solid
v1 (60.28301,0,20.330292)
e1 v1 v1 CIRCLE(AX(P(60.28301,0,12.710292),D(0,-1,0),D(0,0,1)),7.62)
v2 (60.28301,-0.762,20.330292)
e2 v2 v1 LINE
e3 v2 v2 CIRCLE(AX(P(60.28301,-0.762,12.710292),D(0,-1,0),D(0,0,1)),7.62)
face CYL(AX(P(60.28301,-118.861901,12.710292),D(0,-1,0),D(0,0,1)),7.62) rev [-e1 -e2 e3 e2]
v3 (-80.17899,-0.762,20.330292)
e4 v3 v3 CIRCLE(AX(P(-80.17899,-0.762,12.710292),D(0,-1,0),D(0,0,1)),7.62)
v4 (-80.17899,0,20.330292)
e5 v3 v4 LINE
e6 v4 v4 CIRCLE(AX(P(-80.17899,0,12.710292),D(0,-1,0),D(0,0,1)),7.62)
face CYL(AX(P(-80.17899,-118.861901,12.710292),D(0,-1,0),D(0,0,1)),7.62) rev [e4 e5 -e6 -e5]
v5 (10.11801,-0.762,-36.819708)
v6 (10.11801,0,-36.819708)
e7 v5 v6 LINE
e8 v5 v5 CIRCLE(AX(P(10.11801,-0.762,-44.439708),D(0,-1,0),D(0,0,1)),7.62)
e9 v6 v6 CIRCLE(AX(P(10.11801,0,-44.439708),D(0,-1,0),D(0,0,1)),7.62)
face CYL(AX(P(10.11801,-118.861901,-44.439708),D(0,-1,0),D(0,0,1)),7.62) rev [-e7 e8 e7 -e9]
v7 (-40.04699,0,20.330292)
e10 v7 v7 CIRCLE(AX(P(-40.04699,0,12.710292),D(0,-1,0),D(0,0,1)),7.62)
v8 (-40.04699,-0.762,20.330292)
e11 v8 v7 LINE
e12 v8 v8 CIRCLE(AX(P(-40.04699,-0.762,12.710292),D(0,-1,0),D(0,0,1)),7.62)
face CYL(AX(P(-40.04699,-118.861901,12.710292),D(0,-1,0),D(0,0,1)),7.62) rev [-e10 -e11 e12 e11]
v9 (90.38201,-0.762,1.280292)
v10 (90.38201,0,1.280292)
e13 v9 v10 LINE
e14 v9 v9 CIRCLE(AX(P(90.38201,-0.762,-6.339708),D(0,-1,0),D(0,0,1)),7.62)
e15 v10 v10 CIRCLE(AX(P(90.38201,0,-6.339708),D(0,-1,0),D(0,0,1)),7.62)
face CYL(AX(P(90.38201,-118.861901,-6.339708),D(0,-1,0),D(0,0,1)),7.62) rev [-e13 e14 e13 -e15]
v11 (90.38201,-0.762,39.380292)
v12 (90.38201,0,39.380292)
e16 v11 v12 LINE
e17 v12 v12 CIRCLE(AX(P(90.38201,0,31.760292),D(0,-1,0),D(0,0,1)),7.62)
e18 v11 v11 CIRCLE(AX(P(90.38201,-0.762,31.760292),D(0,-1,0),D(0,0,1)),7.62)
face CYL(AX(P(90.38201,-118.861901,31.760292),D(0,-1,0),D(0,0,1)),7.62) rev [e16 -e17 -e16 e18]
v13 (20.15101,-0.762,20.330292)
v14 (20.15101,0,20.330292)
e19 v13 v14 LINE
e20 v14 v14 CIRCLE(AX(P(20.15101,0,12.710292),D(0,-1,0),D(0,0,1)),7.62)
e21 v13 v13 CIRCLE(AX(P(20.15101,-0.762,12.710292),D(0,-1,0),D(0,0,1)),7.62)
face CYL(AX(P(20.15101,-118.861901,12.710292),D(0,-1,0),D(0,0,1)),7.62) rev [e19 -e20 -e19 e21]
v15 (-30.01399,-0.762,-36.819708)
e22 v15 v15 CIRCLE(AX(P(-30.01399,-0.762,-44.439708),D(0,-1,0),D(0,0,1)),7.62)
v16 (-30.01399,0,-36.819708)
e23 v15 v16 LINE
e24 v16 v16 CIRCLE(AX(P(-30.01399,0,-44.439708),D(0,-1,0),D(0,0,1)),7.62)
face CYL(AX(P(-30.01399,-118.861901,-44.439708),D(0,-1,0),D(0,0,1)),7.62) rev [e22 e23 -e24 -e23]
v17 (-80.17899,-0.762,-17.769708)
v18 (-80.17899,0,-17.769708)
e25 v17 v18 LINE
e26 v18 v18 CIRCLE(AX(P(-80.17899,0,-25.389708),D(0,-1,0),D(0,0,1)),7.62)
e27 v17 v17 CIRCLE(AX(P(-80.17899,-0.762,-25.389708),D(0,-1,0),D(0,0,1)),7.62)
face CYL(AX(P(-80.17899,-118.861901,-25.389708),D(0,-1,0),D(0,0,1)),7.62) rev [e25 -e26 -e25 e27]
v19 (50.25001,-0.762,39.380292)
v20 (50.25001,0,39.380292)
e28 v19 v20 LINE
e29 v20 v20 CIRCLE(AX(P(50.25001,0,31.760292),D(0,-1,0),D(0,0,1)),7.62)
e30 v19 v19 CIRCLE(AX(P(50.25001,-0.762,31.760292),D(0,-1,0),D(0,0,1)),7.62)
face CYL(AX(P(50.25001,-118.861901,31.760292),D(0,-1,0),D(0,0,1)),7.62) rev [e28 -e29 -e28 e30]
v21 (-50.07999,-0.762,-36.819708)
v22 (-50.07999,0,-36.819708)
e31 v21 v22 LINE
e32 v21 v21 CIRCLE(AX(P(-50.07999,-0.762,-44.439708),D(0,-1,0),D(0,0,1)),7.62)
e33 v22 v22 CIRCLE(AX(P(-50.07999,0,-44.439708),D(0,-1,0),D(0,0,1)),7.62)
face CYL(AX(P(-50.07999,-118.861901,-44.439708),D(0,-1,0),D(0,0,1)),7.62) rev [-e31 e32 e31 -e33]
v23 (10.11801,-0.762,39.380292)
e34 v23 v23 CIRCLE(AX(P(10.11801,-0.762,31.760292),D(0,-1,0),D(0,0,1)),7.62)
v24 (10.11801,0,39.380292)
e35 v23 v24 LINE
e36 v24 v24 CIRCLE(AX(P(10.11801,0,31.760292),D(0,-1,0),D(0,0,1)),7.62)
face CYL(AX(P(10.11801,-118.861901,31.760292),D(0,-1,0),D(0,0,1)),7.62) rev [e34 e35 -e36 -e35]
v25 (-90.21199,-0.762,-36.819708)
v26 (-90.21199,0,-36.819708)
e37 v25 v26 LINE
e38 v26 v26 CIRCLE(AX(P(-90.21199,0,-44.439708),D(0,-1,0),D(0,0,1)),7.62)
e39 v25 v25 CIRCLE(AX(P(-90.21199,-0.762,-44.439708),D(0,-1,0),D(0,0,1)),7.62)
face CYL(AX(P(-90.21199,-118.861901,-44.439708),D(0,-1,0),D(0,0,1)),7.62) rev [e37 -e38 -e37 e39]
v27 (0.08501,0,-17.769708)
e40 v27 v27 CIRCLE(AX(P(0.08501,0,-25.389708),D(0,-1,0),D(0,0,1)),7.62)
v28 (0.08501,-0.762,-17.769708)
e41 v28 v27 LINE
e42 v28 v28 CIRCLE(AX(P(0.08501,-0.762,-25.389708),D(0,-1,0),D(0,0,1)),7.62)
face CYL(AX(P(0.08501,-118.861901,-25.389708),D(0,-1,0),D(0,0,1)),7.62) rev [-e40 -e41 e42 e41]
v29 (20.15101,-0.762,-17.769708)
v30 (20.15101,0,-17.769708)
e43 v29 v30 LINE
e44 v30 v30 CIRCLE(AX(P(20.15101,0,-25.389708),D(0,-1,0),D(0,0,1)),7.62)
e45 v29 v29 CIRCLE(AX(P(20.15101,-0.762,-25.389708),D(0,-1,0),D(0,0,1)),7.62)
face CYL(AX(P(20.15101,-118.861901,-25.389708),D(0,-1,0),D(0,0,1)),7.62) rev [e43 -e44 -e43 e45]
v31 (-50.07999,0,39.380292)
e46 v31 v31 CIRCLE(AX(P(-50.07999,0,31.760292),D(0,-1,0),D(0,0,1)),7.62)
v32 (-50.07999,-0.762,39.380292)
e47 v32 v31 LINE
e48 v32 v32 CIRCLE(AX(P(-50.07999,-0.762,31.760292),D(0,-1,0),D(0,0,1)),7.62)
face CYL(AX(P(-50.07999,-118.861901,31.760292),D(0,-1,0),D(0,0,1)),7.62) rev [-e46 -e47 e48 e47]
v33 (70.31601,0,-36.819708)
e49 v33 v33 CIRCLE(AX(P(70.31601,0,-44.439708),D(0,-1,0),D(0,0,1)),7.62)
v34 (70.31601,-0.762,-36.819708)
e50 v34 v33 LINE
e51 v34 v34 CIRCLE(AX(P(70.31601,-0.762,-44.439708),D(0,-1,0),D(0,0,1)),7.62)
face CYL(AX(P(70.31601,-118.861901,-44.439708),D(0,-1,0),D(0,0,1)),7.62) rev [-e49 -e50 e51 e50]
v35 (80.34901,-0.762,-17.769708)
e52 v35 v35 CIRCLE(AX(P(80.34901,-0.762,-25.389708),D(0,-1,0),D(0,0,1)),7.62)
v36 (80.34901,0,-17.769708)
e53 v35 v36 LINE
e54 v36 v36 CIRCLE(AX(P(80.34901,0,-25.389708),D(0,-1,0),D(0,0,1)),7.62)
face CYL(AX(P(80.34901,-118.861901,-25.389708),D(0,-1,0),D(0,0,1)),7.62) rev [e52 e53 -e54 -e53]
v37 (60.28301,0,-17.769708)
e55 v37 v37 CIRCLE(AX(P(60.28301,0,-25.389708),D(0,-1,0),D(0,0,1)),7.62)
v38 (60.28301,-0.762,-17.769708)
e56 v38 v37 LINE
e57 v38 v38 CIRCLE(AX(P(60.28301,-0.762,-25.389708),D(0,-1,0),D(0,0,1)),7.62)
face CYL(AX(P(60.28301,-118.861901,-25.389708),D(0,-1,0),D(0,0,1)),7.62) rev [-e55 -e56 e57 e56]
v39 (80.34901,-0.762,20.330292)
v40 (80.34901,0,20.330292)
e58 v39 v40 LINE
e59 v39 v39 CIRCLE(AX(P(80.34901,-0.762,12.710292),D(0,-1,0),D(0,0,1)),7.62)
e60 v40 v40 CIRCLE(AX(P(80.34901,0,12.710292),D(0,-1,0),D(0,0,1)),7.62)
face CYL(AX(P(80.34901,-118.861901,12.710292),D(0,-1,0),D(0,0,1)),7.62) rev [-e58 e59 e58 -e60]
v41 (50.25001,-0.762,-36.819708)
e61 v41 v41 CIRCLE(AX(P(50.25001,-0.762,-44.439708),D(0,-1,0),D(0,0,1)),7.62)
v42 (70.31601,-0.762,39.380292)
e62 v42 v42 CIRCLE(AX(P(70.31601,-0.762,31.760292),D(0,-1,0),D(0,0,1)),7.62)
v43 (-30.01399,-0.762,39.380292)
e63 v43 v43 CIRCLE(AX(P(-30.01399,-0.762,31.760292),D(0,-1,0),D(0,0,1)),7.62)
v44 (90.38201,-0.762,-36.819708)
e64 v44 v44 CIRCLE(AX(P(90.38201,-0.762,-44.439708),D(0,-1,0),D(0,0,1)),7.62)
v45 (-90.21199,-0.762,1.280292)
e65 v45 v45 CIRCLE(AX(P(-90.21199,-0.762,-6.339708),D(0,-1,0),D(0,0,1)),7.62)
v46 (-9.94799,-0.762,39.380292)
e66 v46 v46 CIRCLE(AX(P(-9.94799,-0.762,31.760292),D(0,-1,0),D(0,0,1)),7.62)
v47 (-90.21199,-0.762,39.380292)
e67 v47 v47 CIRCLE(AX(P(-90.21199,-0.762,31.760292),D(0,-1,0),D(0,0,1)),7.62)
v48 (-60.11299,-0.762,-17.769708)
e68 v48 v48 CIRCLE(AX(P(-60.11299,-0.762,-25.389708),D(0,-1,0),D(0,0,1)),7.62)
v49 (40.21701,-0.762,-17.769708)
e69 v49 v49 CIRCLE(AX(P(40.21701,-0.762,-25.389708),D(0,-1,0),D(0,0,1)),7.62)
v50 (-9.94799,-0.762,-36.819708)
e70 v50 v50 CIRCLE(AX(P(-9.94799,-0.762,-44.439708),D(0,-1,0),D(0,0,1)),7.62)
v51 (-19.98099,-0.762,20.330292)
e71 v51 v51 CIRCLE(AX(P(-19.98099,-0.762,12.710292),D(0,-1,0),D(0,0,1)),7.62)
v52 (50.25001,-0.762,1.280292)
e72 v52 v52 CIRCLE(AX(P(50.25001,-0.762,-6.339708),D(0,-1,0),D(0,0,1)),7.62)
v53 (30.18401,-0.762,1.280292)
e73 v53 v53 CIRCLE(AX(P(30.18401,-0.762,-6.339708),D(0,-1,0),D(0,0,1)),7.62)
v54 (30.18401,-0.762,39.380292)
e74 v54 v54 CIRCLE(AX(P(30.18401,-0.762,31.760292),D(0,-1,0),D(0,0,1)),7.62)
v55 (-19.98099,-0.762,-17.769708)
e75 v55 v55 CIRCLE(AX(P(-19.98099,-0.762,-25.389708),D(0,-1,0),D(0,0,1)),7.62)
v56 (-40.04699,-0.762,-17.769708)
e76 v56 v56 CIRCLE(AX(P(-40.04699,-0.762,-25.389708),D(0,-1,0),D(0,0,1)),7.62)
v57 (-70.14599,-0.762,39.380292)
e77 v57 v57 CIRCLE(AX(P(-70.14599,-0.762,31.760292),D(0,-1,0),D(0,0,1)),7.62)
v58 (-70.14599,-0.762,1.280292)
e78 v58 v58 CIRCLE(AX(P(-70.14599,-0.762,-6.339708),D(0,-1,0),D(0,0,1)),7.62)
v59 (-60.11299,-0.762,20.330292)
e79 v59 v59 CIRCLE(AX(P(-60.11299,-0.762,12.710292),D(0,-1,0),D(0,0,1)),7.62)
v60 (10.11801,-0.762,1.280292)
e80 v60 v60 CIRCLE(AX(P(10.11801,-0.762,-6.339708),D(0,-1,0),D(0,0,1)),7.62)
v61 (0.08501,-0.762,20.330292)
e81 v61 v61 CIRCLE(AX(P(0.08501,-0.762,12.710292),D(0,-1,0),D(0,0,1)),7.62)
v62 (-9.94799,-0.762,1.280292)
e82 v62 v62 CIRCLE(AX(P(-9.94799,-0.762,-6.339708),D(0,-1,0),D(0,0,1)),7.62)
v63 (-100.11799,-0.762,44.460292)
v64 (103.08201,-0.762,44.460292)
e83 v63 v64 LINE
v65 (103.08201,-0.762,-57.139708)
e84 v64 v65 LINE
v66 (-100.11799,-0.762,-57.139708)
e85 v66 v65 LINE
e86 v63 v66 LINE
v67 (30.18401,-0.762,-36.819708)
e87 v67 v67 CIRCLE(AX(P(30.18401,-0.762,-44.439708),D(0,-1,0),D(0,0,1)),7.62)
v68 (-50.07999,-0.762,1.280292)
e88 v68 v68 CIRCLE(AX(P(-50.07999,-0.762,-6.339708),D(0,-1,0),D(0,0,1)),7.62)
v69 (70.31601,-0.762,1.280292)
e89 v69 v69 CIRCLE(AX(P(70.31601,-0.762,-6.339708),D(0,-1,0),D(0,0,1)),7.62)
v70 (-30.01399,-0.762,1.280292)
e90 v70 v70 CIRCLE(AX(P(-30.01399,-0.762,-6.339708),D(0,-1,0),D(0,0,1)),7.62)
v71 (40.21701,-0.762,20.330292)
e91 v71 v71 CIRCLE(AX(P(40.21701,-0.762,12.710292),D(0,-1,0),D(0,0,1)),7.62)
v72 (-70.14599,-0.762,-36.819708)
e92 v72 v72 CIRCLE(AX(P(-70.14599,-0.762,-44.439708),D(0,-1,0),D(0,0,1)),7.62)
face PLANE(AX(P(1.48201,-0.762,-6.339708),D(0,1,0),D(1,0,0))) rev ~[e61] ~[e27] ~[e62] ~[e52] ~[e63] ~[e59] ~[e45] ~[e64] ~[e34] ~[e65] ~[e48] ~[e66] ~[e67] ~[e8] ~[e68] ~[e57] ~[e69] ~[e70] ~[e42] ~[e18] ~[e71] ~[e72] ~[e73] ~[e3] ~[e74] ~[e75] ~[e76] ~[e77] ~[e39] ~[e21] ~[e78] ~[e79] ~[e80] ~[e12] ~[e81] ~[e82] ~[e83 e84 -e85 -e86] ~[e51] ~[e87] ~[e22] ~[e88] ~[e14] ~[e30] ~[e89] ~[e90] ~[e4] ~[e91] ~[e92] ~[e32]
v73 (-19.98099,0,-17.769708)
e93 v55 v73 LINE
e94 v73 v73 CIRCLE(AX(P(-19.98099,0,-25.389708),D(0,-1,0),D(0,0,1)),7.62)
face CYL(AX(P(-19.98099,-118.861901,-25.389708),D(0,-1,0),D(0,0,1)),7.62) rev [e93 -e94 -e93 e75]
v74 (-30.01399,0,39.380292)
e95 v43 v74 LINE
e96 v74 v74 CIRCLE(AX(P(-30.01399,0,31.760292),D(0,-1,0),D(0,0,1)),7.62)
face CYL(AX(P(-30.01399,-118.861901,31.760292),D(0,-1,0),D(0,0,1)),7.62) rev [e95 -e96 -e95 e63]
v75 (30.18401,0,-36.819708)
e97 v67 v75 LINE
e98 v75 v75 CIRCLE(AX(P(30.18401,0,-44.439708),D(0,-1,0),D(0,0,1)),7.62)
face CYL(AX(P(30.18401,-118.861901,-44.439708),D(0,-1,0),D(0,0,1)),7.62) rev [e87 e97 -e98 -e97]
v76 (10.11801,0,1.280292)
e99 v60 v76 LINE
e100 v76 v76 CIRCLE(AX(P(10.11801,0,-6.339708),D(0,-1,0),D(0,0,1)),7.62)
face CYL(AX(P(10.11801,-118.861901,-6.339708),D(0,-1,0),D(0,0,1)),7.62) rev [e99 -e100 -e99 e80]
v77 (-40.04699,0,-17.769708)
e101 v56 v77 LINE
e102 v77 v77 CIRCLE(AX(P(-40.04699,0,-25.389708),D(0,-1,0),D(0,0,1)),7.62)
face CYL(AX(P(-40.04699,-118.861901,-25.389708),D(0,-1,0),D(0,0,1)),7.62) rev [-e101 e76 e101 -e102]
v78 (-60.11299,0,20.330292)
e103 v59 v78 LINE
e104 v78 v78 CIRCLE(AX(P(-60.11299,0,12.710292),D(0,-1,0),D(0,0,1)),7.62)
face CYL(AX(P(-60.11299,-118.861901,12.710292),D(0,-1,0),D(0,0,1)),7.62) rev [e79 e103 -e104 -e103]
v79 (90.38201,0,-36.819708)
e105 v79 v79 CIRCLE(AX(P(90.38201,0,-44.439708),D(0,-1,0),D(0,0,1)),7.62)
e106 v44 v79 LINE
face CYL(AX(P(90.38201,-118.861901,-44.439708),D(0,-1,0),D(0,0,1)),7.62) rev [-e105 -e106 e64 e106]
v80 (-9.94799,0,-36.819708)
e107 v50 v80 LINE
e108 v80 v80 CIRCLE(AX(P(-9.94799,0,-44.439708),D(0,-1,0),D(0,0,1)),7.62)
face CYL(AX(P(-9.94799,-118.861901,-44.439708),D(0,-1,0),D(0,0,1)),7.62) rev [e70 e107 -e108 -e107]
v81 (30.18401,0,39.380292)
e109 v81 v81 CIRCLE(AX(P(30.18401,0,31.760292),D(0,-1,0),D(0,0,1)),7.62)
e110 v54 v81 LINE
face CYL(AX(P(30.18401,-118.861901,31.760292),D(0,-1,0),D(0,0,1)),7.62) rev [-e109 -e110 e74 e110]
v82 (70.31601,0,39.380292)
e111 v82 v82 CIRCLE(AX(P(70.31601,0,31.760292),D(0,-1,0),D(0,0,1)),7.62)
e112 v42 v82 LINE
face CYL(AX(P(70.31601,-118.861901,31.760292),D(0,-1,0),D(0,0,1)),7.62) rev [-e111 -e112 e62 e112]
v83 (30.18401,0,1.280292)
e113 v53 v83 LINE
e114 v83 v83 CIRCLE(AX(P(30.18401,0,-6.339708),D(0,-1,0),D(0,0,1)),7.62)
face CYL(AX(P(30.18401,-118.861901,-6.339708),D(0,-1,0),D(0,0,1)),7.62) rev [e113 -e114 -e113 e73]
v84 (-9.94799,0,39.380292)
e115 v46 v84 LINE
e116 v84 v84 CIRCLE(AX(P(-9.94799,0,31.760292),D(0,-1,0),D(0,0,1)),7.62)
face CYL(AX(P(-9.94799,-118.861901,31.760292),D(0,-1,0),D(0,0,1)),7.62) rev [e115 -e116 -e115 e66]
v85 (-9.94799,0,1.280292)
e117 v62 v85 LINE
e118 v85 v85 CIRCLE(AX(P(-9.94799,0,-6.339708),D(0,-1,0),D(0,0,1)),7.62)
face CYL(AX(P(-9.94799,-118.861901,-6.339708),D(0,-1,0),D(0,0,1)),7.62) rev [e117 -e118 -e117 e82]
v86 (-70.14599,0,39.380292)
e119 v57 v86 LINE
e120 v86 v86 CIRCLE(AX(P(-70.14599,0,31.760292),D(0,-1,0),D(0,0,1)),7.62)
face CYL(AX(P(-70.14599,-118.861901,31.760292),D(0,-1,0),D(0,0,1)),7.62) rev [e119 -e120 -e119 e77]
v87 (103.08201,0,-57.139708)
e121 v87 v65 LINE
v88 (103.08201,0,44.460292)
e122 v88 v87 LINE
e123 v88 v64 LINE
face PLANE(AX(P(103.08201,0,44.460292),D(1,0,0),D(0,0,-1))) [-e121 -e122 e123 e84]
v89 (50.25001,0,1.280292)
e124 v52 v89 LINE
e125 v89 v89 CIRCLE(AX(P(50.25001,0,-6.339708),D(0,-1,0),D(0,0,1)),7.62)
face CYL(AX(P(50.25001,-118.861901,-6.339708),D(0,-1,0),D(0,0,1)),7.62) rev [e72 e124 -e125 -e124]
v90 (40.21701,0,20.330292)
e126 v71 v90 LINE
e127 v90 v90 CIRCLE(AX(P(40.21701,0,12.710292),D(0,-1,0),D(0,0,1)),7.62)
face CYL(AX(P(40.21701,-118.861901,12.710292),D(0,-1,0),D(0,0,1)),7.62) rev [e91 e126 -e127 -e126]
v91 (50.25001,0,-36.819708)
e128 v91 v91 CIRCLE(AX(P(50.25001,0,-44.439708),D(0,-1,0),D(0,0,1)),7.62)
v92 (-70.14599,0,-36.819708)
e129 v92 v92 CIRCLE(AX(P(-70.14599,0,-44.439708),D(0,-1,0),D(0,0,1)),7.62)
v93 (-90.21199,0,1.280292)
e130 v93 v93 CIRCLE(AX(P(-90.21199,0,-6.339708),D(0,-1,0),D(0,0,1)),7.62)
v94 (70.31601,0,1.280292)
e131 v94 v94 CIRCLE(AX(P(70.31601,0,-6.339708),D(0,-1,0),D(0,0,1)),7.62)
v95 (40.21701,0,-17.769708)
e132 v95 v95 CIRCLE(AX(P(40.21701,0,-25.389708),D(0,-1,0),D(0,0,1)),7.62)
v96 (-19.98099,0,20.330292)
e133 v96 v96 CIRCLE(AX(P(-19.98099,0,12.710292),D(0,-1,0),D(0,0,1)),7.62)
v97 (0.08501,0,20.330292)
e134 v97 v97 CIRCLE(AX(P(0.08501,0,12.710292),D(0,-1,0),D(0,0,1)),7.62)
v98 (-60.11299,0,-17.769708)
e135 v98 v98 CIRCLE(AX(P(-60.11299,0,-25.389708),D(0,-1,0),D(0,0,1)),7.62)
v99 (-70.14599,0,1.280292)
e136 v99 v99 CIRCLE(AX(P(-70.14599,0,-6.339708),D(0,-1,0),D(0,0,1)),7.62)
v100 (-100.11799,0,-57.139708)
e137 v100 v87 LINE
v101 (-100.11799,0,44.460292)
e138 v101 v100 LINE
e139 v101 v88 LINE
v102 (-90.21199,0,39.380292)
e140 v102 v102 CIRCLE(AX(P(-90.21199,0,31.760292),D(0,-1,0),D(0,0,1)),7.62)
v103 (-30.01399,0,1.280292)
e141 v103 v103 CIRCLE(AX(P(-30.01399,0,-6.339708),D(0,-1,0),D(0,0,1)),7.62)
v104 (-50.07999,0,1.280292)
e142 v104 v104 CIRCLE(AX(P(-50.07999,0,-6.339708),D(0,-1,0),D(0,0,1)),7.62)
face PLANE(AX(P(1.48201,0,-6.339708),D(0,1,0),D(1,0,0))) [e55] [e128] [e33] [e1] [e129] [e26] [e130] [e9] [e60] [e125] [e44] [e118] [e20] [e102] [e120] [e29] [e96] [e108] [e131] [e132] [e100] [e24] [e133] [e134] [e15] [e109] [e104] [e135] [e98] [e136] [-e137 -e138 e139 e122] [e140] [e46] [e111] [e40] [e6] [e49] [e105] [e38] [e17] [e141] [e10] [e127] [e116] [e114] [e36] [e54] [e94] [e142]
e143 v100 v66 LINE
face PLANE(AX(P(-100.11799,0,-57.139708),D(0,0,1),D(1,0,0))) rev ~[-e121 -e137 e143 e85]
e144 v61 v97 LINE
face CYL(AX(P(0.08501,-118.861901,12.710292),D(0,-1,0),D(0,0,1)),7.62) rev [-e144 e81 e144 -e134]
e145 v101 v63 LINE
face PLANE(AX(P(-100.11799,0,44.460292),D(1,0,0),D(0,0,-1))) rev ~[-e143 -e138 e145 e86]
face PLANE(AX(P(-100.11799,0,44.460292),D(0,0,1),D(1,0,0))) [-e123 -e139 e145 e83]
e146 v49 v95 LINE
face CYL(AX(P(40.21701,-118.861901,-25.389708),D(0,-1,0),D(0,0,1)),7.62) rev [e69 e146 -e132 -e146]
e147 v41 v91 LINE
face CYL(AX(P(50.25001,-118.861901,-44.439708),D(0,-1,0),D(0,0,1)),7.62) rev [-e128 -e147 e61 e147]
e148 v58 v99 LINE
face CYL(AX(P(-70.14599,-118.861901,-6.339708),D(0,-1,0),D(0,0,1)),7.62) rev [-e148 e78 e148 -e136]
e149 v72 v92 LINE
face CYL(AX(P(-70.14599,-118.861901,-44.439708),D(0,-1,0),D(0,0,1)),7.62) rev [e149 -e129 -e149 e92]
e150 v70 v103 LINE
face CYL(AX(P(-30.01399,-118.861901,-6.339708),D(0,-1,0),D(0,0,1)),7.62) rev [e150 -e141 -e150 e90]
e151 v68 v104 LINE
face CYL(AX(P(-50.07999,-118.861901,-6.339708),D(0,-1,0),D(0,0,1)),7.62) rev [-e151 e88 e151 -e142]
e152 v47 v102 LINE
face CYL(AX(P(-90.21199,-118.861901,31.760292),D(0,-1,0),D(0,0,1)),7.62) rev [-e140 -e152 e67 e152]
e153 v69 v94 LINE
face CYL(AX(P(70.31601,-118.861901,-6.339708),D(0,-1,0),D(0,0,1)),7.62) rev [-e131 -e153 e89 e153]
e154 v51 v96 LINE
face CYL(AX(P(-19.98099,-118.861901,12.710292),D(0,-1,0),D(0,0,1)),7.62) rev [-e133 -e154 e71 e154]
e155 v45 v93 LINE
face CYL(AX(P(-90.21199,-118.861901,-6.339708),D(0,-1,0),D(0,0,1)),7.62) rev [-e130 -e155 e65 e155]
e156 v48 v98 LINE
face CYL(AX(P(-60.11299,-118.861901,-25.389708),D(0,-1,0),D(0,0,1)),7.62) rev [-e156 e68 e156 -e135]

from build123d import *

# Parameters (mm, degrees)
SKETCH1_W               = 203.2
SKETCH1_H               = 101.6
BOSS_EXTRUDE2_DEPTH     = 0.762
CUT_EXTRUDE1_DEPTH      = 118.861900687
CUT_EXTRUDE1_DEPTH_BACK = 118.861900687
SKETCH2_R               = 7.62


with BuildPart() as part:
    # Sketch1 → Boss-Extrude2 (new body)
    with BuildSketch(Plane(origin=(0, 0, 0), x_dir=(1, 0, 0), z_dir=(0, 1, 0))):
        with Locations((1.482009724, 6.339708266)):
            Rectangle(SKETCH1_W, SKETCH1_H)
    extrude(amount=-BOSS_EXTRUDE2_DEPTH)

    # Sketch2 → Cut-Extrude1 (cut, two sides: drawn at the far end of the back side and taken through both)
    with BuildSketch(Plane(origin=(0, 0, 0), x_dir=(1, 0, 0), z_dir=(0, 1, 0)).offset(-CUT_EXTRUDE1_DEPTH_BACK)):
        with Locations(Location((90.382009724, -31.760291734, 0), (0, 0, 270))):
            Circle(SKETCH2_R)
        with Locations(Location((90.382009724, 6.339708266, 0), (0, 0, 270))):
            Circle(SKETCH2_R)
        with Locations(Location((90.382009724, 44.439708266, 0), (0, 0, 270))):
            Circle(SKETCH2_R)
        with Locations(Location((70.316009724, -31.760291734, 0), (0, 0, 270))):
            Circle(SKETCH2_R)
        with Locations(Location((50.250009724, -31.760291734, 0), (0, 0, 270))):
            Circle(SKETCH2_R)
        with Locations(Location((30.184009724, -31.760291734, 0), (0, 0, 270))):
            Circle(SKETCH2_R)
        with Locations(Location((10.118009724, -31.760291734, 0), (0, 0, 270))):
            Circle(SKETCH2_R)
        with Locations(Location((-9.947990276, -31.760291734, 0), (0, 0, 270))):
            Circle(SKETCH2_R)
        with Locations(Location((-30.013990276, -31.760291734, 0), (0, 0, 270))):
            Circle(SKETCH2_R)
        with Locations(Location((-50.079990276, -31.760291734, 0), (0, 0, 270))):
            Circle(SKETCH2_R)
        with Locations(Location((-70.145990276, -31.760291734, 0), (0, 0, 270))):
            Circle(SKETCH2_R)
        with Locations(Location((-90.211990276, -31.760291734, 0), (0, 0, 270))):
            Circle(SKETCH2_R)
        with Locations(Location((70.316009724, 6.339708266, 0), (0, 0, 270))):
            Circle(SKETCH2_R)
        with Locations(Location((50.250009724, 6.339708266, 0), (0, 0, 270))):
            Circle(SKETCH2_R)
        with Locations(Location((30.184009724, 6.339708266, 0), (0, 0, 270))):
            Circle(SKETCH2_R)
        with Locations(Location((10.118009724, 6.339708266, 0), (0, 0, 270))):
            Circle(SKETCH2_R)
        with Locations(Location((-9.947990276, 6.339708266, 0), (0, 0, 270))):
            Circle(SKETCH2_R)
        with Locations(Location((-30.013990276, 6.339708266, 0), (0, 0, 270))):
            Circle(SKETCH2_R)
        with Locations(Location((-50.079990276, 6.339708266, 0), (0, 0, 270))):
            Circle(SKETCH2_R)
        with Locations(Location((-70.145990276, 6.339708266, 0), (0, 0, 270))):
            Circle(SKETCH2_R)
        with Locations(Location((-90.211990276, 6.339708266, 0), (0, 0, 270))):
            Circle(SKETCH2_R)
        with Locations(Location((70.316009724, 44.439708266, 0), (0, 0, 270))):
            Circle(SKETCH2_R)
        with Locations(Location((50.250009724, 44.439708266, 0), (0, 0, 270))):
            Circle(SKETCH2_R)
        with Locations(Location((30.184009724, 44.439708266, 0), (0, 0, 270))):
            Circle(SKETCH2_R)
        with Locations(Location((10.118009724, 44.439708266, 0), (0, 0, 270))):
            Circle(SKETCH2_R)
        with Locations(Location((-9.947990276, 44.439708266, 0), (0, 0, 270))):
            Circle(SKETCH2_R)
        with Locations(Location((-30.013990276, 44.439708266, 0), (0, 0, 270))):
            Circle(SKETCH2_R)
        with Locations(Location((-50.079990276, 44.439708266, 0), (0, 0, 270))):
            Circle(SKETCH2_R)
        with Locations(Location((-70.145990276, 44.439708266, 0), (0, 0, 270))):
            Circle(SKETCH2_R)
        with Locations(Location((-90.211990276, 44.439708266, 0), (0, 0, 270))):
            Circle(SKETCH2_R)
        with Locations(Location((80.349009724, -12.710291734, 0), (0, 0, 270))):
            Circle(SKETCH2_R)
        with Locations(Location((80.349009724, 25.389708266, 0), (0, 0, 270))):
            Circle(SKETCH2_R)
        with Locations(Location((60.283009724, -12.710291734, 0), (0, 0, 270))):
            Circle(SKETCH2_R)
        with Locations(Location((60.283009724, 25.389708266, 0), (0, 0, 270))):
            Circle(SKETCH2_R)
        with Locations(Location((40.217009724, -12.710291734, 0), (0, 0, 270))):
            Circle(SKETCH2_R)
        with Locations(Location((40.217009724, 25.389708266, 0), (0, 0, 270))):
            Circle(SKETCH2_R)
        with Locations(Location((20.151009724, -12.710291734, 0), (0, 0, 270))):
            Circle(SKETCH2_R)
        with Locations(Location((20.151009724, 25.389708266, 0), (0, 0, 270))):
            Circle(SKETCH2_R)
        with Locations(Location((0.085009724, -12.710291734, 0), (0, 0, 270))):
            Circle(SKETCH2_R)
        with Locations(Location((0.085009724, 25.389708266, 0), (0, 0, 270))):
            Circle(SKETCH2_R)
        with Locations(Location((-19.980990276, -12.710291734, 0), (0, 0, 270))):
            Circle(SKETCH2_R)
        with Locations(Location((-19.980990276, 25.389708266, 0), (0, 0, 270))):
            Circle(SKETCH2_R)
        with Locations(Location((-40.046990276, -12.710291734, 0), (0, 0, 270))):
            Circle(SKETCH2_R)
        with Locations(Location((-40.046990276, 25.389708266, 0), (0, 0, 270))):
            Circle(SKETCH2_R)
        with Locations(Location((-60.112990276, -12.710291734, 0), (0, 0, 270))):
            Circle(SKETCH2_R)
        with Locations(Location((-60.112990276, 25.389708266, 0), (0, 0, 270))):
            Circle(SKETCH2_R)
        with Locations(Location((-80.178990276, -12.710291734, 0), (0, 0, 270))):
            Circle(SKETCH2_R)
        with Locations(Location((-80.178990276, 25.389708266, 0), (0, 0, 270))):
            Circle(SKETCH2_R)
    extrude(amount=CUT_EXTRUDE1_DEPTH + CUT_EXTRUDE1_DEPTH_BACK, mode=Mode.SUBTRACT)


solid = part.part
